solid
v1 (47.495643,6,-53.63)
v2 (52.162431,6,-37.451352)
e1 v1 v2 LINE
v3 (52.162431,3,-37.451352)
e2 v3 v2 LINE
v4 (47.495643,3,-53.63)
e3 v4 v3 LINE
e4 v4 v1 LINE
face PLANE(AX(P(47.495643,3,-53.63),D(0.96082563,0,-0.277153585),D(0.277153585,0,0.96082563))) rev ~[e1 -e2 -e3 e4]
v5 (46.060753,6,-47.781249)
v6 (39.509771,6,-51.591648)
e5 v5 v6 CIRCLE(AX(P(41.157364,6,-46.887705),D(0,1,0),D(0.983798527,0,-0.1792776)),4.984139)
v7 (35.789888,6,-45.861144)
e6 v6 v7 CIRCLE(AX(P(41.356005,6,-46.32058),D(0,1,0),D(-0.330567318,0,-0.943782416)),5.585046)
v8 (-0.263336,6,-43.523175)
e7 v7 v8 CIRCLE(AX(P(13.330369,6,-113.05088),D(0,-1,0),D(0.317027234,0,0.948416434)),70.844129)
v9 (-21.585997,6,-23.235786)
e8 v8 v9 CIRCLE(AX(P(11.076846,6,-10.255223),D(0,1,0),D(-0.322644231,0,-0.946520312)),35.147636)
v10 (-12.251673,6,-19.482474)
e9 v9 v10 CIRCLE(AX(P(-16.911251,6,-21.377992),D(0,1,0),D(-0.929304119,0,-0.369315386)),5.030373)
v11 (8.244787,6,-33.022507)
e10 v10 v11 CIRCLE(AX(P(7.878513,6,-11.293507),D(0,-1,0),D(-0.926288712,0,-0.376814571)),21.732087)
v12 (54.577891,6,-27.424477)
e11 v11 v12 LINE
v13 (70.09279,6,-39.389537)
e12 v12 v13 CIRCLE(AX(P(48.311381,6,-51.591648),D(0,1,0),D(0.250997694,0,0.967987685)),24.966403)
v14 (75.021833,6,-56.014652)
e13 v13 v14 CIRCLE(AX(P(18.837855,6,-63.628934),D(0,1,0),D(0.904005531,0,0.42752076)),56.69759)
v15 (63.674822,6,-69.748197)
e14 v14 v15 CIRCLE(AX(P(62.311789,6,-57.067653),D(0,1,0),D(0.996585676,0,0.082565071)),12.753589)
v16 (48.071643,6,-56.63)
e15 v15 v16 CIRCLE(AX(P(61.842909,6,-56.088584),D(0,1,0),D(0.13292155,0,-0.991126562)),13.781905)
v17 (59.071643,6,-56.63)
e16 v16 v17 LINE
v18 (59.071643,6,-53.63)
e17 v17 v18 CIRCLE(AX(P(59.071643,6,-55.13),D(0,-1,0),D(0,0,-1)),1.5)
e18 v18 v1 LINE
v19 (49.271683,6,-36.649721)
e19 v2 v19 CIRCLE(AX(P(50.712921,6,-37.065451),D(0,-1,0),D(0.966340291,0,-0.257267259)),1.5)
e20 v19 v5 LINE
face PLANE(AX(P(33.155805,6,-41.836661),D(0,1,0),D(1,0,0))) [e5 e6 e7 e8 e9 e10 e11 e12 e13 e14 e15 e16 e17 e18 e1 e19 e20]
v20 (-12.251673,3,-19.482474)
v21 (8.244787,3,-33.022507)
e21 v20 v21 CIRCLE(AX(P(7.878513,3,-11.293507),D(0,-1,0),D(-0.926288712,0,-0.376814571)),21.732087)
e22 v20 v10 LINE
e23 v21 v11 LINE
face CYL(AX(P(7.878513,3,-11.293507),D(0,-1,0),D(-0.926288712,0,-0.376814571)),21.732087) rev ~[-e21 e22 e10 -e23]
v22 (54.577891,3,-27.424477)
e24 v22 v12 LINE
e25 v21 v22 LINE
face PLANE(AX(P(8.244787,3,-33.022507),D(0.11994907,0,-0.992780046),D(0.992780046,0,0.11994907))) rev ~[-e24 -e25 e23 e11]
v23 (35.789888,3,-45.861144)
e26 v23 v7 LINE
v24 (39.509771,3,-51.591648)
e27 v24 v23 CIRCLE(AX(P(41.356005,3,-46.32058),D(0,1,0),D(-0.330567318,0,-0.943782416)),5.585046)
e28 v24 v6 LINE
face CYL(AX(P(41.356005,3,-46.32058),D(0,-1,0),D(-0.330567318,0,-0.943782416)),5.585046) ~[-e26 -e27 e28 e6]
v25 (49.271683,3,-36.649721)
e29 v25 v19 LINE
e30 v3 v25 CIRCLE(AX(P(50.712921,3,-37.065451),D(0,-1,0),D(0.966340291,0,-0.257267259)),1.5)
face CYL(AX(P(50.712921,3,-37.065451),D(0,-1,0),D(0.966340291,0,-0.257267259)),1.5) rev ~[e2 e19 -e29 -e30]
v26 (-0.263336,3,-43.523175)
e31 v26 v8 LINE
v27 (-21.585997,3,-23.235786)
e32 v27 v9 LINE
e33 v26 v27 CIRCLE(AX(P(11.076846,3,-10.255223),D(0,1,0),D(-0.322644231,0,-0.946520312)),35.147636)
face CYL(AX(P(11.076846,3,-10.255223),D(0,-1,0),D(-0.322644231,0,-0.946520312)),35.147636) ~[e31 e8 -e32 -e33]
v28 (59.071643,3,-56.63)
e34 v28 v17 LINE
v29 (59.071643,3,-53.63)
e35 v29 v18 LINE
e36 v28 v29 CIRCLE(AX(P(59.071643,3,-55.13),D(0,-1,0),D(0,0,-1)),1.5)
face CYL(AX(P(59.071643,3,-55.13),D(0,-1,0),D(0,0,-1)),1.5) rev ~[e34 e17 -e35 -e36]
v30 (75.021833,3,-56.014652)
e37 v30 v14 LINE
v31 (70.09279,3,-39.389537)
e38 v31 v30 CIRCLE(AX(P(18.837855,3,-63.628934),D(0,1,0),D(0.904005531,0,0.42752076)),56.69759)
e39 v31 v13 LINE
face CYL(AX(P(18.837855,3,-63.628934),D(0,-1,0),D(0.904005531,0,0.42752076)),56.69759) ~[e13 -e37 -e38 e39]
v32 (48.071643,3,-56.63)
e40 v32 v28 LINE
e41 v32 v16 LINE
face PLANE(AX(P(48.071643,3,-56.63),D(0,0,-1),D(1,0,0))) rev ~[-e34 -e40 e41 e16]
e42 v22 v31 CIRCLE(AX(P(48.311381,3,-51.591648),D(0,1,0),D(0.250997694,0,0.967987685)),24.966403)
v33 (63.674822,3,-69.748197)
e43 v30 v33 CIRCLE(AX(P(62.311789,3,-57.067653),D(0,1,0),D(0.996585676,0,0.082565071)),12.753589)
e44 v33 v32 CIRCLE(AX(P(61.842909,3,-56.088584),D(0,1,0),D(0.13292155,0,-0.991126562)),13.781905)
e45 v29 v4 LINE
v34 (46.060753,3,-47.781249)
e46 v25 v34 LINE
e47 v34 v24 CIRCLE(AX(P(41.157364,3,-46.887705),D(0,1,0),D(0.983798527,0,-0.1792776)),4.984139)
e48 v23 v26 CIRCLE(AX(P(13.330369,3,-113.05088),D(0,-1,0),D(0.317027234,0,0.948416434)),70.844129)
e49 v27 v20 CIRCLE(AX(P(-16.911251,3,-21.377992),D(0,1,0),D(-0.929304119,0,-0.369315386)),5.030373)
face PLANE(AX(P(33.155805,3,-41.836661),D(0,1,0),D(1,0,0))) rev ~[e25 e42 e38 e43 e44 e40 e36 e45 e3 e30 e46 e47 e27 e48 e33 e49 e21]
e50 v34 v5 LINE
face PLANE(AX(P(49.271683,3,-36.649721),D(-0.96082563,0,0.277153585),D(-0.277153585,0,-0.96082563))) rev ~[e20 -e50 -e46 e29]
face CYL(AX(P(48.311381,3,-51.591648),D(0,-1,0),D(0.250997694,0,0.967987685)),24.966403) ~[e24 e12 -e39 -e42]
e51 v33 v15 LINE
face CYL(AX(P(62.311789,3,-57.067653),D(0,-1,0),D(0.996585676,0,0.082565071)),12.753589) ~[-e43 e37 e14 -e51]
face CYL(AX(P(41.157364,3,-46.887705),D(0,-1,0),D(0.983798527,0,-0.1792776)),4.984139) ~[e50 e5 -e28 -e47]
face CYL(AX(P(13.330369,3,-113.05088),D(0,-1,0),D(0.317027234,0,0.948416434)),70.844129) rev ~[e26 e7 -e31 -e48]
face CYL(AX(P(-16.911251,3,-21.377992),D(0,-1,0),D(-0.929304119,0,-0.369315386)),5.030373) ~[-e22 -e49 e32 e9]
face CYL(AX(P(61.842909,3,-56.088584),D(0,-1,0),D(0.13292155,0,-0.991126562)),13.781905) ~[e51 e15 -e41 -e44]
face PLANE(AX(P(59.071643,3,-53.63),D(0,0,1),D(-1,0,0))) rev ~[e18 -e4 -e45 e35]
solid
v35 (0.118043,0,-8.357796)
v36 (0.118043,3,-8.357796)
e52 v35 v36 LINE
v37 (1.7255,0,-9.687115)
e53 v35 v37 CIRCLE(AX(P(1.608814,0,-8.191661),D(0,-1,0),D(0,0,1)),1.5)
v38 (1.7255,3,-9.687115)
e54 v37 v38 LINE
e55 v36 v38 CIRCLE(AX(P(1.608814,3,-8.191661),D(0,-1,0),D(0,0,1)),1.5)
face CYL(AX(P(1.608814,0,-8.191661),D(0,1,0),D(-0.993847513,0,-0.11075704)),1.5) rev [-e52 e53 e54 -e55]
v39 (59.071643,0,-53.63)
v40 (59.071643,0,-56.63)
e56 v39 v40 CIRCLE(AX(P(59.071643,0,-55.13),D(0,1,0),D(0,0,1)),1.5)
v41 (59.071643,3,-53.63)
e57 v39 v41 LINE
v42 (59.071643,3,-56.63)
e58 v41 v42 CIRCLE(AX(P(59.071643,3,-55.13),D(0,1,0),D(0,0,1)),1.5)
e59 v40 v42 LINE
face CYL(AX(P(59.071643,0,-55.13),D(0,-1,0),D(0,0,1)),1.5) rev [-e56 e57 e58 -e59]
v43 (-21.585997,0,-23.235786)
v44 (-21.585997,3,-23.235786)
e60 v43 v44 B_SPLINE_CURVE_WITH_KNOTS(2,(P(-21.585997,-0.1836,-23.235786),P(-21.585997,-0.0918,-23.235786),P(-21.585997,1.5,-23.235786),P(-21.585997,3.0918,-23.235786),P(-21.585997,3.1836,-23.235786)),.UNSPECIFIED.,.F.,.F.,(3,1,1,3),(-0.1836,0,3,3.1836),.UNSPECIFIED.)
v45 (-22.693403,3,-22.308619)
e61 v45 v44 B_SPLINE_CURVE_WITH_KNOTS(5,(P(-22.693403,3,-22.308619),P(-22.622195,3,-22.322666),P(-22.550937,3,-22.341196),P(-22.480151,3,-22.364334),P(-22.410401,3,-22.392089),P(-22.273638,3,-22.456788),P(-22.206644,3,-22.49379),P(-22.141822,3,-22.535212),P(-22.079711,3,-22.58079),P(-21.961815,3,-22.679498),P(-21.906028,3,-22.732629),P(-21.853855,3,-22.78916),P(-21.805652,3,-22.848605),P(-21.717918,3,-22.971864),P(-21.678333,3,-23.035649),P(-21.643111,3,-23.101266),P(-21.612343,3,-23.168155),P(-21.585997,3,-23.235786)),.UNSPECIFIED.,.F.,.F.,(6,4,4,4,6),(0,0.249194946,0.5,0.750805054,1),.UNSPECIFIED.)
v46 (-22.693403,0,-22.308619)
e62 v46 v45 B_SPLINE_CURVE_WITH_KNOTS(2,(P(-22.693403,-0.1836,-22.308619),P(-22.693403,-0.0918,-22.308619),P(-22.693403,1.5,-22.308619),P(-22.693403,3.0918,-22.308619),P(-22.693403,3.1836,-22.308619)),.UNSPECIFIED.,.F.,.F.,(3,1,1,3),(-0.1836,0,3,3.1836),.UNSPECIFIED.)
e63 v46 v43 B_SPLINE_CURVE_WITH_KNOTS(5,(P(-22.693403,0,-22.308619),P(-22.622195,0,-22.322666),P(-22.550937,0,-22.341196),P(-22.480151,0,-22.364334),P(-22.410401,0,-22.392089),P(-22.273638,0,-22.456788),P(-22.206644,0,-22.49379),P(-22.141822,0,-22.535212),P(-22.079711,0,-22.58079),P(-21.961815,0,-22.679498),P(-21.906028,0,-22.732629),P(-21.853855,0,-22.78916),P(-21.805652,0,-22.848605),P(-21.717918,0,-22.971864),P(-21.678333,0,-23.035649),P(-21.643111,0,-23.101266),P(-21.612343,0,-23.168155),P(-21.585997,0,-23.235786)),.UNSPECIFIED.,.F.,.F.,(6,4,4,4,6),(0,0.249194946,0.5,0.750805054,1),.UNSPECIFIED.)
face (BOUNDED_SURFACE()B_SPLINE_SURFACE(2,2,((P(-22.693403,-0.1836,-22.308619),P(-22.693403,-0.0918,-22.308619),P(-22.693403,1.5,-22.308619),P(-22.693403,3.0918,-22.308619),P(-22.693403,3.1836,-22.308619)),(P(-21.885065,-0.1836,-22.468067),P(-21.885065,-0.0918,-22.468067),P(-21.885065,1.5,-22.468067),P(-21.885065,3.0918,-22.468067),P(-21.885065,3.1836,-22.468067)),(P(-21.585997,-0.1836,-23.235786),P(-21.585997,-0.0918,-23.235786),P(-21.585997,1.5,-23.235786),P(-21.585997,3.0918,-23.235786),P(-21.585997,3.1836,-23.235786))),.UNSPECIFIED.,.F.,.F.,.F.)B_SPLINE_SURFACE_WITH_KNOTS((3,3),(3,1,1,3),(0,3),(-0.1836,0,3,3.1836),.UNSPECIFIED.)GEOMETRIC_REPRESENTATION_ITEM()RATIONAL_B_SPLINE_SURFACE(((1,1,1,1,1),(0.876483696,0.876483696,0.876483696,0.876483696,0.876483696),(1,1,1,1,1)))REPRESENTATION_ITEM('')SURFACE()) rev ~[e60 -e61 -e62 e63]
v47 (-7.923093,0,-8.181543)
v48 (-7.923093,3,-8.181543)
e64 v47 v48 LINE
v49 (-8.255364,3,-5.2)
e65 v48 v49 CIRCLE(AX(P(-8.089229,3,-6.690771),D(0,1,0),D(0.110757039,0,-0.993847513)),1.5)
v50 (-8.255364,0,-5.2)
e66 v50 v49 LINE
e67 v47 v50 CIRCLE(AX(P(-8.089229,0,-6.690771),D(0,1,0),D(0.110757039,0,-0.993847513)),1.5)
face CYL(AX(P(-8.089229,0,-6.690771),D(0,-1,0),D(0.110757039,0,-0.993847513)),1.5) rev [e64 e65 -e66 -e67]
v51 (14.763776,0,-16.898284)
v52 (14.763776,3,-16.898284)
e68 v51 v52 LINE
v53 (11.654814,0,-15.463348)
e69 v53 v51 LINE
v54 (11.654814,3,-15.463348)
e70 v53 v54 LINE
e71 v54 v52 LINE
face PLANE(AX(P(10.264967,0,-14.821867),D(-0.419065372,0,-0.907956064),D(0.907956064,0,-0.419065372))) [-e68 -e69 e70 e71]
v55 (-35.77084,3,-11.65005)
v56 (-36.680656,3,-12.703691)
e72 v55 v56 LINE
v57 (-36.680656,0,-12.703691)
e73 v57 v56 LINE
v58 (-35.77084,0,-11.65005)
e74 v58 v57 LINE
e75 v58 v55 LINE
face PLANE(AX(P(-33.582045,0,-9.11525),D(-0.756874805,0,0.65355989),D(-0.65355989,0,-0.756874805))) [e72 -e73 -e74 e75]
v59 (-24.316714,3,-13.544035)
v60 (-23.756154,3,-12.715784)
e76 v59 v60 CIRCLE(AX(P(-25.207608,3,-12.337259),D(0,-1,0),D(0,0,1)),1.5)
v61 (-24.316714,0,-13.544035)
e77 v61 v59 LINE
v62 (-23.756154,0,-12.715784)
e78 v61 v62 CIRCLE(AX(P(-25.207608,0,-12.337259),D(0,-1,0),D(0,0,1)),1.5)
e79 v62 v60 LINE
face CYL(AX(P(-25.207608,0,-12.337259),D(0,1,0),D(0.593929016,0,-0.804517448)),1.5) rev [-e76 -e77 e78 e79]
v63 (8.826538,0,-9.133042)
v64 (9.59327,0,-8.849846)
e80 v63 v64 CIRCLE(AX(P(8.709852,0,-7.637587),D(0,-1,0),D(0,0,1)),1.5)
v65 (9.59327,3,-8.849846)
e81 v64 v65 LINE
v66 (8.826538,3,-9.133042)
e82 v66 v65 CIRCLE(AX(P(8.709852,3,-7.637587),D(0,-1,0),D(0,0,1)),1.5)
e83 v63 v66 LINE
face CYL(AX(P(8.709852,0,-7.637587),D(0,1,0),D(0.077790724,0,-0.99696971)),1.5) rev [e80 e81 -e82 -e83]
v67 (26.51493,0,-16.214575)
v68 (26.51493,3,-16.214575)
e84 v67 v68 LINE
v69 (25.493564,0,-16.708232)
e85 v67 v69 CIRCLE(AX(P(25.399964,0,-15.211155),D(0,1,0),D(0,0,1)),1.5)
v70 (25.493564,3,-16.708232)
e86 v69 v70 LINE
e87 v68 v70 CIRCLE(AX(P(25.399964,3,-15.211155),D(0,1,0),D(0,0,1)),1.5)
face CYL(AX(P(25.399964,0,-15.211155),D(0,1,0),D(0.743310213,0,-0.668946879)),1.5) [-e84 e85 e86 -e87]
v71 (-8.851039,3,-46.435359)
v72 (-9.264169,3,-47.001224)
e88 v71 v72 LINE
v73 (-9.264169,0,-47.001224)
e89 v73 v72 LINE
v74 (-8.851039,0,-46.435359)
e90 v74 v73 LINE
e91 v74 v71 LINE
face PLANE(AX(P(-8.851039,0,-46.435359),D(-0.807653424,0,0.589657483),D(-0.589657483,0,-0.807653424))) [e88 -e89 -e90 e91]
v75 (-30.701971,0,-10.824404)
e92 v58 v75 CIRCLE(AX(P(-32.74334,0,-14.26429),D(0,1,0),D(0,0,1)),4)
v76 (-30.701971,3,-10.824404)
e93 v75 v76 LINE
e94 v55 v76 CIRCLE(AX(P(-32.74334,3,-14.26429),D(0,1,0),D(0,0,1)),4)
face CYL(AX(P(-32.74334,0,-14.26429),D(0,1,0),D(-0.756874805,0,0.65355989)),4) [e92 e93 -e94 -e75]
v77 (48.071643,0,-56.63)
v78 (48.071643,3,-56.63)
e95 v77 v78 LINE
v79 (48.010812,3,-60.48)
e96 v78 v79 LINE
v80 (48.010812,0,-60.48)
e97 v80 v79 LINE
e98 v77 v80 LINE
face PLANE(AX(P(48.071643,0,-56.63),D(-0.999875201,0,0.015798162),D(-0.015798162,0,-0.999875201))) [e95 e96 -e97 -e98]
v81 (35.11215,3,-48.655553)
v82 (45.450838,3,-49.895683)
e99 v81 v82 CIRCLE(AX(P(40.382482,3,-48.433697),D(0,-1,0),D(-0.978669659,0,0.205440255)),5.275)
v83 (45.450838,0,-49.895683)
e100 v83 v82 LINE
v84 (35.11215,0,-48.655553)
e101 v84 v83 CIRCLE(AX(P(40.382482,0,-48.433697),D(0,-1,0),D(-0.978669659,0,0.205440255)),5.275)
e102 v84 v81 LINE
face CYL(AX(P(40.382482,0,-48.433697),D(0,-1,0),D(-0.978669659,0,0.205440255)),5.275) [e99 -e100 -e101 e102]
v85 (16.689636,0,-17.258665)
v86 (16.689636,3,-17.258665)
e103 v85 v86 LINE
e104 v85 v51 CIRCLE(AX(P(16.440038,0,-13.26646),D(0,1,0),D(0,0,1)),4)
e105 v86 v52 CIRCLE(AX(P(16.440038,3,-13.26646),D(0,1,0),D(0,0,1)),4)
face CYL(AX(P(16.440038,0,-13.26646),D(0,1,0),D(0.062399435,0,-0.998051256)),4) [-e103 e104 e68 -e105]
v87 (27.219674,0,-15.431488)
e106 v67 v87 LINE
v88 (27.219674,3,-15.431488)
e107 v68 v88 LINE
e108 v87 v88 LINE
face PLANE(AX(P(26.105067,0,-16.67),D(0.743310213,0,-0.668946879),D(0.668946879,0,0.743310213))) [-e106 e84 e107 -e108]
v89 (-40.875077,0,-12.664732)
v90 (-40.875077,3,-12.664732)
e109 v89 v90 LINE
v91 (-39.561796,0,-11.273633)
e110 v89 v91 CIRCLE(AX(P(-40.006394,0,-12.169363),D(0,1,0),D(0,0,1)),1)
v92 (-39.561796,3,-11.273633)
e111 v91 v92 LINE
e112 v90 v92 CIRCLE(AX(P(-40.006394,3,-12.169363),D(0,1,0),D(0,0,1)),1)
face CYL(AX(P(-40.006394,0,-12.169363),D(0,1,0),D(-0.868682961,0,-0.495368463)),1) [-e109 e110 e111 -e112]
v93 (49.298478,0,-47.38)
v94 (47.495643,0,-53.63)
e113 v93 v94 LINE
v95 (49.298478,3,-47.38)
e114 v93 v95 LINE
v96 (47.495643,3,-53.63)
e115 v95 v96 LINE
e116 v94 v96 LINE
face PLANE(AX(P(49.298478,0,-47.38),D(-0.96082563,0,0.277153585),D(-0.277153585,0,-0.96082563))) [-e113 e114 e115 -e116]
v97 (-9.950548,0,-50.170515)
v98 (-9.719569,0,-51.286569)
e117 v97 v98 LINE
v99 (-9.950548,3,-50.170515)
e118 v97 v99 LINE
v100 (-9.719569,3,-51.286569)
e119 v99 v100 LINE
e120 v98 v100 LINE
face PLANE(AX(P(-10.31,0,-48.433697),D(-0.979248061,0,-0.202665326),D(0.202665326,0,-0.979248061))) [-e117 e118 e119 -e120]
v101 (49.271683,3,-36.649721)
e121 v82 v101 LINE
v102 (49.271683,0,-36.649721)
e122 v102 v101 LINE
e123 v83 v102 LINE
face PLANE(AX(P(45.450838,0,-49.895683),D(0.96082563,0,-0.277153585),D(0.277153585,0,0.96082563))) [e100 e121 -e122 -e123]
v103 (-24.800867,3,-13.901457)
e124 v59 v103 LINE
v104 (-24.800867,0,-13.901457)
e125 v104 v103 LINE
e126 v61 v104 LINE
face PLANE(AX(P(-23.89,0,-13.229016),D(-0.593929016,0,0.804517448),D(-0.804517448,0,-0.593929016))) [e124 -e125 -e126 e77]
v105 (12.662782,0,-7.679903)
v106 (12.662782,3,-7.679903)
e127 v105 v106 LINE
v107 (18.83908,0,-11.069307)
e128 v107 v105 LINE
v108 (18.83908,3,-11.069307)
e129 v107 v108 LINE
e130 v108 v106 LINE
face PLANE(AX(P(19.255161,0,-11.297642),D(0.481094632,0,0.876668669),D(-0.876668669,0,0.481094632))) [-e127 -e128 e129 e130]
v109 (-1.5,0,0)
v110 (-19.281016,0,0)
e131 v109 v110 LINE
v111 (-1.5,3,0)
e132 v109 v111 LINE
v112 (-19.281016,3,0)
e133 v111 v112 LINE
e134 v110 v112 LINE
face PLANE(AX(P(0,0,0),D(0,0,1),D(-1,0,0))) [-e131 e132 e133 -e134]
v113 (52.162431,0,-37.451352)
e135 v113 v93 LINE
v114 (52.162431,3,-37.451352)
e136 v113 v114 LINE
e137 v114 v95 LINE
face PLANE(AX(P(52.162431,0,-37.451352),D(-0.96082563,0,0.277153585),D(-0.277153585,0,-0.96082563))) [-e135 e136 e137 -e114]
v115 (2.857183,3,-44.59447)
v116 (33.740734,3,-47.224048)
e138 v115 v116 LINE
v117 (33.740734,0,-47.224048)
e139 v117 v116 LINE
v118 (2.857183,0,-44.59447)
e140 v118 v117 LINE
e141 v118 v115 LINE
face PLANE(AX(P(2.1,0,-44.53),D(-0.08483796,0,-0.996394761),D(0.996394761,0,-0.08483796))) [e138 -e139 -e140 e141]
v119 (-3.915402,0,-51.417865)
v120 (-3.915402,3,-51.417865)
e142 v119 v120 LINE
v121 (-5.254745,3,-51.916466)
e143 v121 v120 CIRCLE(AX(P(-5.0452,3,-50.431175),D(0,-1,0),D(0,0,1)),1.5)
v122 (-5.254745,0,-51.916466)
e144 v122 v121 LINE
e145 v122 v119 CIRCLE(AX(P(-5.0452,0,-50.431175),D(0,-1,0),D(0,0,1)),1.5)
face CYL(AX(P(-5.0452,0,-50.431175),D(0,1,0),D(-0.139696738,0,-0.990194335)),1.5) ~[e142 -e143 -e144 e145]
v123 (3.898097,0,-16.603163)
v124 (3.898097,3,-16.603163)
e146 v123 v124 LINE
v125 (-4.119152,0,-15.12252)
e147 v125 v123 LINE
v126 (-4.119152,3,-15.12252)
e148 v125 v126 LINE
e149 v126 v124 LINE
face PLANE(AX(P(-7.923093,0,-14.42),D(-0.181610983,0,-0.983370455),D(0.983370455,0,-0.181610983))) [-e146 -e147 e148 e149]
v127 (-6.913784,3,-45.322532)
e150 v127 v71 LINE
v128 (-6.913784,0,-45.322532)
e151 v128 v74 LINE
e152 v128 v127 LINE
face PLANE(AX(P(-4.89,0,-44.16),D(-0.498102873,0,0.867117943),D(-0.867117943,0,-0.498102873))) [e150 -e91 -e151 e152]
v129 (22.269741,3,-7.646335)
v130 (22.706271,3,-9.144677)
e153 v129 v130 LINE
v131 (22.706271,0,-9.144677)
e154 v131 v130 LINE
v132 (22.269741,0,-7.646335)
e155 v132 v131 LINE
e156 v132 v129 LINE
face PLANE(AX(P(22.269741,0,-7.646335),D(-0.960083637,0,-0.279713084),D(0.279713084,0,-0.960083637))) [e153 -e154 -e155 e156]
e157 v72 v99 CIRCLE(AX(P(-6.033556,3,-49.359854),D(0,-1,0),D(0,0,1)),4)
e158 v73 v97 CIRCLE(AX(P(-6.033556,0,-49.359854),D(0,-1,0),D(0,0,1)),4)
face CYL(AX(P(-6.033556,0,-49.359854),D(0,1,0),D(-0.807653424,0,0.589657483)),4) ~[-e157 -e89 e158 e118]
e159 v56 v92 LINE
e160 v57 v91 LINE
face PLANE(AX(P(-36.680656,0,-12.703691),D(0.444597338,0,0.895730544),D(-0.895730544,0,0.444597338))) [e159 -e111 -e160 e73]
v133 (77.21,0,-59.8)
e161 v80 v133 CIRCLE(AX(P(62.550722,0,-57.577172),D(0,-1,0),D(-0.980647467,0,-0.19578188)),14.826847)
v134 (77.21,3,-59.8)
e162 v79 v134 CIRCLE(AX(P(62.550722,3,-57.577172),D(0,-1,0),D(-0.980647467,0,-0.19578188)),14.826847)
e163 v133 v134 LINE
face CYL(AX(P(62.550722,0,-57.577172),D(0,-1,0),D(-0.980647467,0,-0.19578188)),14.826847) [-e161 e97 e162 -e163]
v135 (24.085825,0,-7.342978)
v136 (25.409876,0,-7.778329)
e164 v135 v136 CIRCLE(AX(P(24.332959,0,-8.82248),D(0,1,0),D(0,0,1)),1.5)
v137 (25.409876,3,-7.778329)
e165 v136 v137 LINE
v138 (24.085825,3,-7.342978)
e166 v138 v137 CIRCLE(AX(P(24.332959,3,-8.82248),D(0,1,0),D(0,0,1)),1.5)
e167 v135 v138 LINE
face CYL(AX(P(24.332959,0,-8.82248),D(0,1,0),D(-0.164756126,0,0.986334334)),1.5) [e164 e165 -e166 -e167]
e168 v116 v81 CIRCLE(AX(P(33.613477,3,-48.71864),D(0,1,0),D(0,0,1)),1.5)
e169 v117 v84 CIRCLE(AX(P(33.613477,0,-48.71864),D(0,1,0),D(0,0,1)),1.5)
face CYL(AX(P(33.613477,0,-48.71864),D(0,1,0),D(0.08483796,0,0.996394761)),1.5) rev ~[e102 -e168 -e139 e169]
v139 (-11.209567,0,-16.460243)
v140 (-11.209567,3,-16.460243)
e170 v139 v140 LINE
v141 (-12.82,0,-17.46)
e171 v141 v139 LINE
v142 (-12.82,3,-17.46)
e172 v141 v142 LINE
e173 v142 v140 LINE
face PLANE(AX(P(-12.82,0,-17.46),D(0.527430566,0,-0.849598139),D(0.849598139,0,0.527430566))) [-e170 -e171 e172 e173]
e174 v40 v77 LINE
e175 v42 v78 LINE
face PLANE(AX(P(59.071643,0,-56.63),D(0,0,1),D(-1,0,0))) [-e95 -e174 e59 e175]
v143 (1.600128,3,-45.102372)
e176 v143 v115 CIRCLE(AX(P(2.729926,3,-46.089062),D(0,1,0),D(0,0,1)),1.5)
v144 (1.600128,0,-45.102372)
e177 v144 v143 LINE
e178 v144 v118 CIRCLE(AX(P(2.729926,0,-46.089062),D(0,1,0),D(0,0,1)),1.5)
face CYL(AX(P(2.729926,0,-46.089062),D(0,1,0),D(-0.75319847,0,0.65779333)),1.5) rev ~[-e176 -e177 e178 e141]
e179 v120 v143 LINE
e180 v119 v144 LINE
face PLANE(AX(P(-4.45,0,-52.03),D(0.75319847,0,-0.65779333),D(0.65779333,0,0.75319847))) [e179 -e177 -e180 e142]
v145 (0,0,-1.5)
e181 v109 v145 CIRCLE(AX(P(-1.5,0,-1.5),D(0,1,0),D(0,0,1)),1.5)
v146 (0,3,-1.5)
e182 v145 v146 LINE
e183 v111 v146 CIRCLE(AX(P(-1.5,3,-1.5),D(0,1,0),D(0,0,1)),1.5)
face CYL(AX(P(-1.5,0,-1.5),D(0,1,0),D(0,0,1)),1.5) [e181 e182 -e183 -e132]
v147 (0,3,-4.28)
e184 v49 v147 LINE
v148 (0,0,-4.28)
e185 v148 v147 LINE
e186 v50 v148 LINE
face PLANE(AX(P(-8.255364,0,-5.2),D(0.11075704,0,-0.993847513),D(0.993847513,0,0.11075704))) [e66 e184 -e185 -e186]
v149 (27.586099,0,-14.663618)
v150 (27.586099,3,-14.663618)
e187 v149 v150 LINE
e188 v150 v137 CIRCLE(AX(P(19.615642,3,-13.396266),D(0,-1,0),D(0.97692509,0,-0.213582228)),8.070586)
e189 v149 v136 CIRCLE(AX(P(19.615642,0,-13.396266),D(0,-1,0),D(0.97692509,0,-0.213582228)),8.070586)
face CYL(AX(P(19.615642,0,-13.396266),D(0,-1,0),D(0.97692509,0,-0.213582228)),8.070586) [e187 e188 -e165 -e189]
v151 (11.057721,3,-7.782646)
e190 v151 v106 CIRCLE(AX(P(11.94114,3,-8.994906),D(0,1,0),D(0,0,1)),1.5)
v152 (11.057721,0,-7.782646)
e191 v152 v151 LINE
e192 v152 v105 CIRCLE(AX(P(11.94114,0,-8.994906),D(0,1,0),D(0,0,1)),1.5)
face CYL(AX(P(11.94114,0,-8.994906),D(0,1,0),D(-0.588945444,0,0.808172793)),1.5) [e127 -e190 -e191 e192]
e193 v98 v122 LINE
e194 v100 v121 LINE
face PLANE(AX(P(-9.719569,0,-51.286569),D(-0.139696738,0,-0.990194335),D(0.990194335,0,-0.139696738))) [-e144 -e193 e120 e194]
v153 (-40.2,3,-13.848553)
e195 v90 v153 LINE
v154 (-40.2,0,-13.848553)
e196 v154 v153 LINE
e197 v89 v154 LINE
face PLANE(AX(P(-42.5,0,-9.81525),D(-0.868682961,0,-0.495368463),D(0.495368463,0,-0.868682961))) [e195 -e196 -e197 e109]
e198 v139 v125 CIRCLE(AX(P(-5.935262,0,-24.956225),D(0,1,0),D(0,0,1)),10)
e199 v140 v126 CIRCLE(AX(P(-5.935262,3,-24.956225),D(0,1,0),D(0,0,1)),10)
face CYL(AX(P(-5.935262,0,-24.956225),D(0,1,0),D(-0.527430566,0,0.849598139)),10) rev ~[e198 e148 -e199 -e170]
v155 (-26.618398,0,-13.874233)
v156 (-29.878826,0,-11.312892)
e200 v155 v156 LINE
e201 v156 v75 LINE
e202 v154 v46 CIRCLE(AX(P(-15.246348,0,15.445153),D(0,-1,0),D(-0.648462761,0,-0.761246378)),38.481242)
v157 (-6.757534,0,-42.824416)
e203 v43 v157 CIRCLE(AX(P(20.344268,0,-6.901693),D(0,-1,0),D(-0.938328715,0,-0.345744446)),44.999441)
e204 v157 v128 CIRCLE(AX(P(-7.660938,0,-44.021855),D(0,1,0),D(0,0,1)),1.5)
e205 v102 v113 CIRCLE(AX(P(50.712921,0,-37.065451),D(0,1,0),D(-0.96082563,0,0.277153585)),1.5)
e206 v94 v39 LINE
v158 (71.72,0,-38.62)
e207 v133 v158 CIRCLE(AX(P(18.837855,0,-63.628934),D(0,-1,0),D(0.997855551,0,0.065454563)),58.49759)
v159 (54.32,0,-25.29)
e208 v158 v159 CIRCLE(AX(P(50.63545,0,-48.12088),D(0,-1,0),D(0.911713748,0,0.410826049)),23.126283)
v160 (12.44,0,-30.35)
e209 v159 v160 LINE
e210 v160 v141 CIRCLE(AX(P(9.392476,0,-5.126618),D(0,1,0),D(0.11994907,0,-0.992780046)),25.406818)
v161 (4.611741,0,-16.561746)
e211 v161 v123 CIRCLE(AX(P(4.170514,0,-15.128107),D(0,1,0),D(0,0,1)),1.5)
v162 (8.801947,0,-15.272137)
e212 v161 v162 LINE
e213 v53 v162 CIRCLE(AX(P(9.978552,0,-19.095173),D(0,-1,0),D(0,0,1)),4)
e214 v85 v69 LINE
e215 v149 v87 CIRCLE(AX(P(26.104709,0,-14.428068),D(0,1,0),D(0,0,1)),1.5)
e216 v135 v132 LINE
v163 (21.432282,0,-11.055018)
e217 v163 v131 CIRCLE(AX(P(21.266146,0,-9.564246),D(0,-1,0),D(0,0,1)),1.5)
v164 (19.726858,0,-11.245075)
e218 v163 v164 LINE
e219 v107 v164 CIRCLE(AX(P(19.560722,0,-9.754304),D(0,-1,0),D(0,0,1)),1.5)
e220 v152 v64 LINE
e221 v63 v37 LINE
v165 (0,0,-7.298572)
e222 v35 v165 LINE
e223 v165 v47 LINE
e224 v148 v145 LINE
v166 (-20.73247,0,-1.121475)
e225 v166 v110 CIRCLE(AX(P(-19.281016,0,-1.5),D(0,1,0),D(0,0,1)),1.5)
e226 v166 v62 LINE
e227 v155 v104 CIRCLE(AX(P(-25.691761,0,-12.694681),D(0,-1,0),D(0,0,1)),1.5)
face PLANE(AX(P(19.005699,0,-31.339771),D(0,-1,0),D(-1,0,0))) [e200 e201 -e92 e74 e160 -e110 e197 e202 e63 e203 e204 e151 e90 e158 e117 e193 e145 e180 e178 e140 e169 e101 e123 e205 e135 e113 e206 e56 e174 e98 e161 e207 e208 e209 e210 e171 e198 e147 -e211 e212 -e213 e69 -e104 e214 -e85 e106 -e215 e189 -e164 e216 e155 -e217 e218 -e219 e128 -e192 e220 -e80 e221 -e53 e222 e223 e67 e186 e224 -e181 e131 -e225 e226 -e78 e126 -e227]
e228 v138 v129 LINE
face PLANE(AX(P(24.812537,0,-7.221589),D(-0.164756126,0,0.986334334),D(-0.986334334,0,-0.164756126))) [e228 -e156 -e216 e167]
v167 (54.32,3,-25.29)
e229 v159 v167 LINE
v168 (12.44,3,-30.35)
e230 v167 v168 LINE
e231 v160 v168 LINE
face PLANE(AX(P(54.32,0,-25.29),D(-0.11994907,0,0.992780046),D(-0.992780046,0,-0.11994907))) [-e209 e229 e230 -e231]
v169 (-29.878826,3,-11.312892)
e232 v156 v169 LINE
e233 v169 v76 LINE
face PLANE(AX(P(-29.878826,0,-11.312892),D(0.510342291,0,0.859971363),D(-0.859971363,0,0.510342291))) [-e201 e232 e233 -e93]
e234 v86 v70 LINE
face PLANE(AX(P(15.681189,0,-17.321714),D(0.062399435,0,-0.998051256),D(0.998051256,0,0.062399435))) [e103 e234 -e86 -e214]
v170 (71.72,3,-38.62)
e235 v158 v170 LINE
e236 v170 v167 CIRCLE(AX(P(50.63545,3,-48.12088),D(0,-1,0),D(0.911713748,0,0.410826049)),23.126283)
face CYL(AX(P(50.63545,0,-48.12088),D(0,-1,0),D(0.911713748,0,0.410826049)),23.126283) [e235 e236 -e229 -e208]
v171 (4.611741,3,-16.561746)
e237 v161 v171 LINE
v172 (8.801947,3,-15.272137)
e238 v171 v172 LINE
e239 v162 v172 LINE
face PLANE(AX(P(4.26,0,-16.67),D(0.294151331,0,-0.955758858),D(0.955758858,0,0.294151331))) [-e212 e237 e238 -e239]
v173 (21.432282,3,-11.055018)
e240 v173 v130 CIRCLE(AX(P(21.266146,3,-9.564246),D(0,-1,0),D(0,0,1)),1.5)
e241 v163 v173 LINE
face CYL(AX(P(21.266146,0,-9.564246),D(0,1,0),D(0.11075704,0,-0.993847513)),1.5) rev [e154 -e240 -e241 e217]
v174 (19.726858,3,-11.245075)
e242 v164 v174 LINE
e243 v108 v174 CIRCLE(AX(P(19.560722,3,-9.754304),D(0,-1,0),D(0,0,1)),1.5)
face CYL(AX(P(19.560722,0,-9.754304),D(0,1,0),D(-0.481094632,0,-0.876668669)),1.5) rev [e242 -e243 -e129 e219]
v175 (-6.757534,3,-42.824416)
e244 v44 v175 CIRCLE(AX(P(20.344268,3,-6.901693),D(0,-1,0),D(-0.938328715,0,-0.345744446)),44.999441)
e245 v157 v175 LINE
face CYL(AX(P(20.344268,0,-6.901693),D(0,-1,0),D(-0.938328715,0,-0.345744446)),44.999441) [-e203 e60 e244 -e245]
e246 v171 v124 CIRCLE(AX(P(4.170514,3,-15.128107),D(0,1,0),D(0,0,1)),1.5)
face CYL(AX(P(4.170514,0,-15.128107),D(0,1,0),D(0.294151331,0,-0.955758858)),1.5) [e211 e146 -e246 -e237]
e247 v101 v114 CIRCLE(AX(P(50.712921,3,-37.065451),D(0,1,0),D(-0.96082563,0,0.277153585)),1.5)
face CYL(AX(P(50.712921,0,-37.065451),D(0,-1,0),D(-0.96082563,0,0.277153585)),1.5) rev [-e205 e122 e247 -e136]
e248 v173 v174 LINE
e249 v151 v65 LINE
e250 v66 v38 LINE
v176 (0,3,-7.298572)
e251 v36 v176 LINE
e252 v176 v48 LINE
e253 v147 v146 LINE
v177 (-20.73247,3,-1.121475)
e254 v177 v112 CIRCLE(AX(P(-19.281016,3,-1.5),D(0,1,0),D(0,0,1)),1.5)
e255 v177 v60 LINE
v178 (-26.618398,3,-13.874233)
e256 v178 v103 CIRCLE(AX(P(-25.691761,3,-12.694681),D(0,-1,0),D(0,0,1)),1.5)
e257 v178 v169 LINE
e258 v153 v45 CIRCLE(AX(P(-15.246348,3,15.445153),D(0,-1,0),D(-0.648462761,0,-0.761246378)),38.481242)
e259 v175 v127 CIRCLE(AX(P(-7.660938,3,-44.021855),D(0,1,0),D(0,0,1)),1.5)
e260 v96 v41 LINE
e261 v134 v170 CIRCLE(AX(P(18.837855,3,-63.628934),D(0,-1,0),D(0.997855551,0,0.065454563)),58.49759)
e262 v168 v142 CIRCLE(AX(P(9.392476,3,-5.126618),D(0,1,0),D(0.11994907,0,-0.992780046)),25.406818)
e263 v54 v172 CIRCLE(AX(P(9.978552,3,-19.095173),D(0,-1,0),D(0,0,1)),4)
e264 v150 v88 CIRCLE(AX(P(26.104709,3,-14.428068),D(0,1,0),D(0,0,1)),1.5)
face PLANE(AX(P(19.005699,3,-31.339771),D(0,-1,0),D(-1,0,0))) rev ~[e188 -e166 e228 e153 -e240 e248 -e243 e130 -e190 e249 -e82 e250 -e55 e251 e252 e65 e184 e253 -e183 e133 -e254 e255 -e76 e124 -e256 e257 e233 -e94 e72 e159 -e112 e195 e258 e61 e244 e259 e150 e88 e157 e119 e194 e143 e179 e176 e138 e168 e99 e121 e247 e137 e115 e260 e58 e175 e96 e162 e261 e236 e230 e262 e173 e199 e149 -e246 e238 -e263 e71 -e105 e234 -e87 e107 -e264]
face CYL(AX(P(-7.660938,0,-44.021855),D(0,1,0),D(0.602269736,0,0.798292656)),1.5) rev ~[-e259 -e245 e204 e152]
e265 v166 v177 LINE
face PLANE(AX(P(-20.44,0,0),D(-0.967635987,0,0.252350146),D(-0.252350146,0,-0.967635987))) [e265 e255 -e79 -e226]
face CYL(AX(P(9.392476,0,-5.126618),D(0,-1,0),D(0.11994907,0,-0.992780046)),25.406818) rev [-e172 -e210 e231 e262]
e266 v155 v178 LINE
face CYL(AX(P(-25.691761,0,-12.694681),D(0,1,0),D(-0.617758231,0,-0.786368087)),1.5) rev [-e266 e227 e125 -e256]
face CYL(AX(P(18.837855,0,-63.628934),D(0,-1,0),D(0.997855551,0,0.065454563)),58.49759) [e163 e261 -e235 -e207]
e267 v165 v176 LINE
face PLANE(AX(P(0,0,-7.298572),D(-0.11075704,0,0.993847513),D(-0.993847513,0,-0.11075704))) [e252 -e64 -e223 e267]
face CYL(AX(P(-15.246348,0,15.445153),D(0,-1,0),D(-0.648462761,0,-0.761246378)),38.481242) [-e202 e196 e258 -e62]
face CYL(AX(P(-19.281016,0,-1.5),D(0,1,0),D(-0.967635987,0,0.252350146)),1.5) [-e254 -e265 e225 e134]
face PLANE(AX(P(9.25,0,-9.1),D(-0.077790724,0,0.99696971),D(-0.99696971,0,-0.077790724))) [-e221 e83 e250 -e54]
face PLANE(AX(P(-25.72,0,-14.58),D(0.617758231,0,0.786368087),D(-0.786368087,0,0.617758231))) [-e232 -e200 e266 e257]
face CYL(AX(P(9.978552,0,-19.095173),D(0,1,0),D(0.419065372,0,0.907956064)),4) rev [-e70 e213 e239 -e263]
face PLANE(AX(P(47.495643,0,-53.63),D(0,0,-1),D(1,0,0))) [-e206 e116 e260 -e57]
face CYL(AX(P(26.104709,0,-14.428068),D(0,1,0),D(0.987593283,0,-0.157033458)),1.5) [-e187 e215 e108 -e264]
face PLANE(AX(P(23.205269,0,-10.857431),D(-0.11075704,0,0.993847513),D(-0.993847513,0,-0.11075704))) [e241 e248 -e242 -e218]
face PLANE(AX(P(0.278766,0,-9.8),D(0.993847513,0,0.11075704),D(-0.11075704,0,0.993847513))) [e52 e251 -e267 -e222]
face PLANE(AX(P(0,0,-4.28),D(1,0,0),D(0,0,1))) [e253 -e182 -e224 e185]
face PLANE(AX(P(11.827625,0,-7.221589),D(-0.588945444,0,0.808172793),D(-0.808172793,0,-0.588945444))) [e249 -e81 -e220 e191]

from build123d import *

# Parameters (mm, degrees)
BOSS_EXTRUDE1_DEPTH = 3
FILLET1_R           = 10
FILLET2_R           = 1
FILLET3_R           = 1.5
FILLET4_R           = 4
FILLET5_R           = 4
BOSS_EXTRUDE2_DEPTH = 3


with BuildPart() as part:
    # Sketch2 → Boss-Extrude1 (new body)
    with BuildSketch(Plane(origin=(0, 0, 0), x_dir=(1, 0, 0), z_dir=(0, 1, 0))):
        with BuildLine():
            Line((-42.5, 9.815250458), (-40.2, 13.848552856))
            ThreePointArc((-40.2, 13.848552856), (-31.616402931, 19.380516515), (-21.88, 22.46))
            ThreePointArc((-21.88, 22.46), (-15.087159026, 34.642704233), (-4.89, 44.16))
            Line((-4.89, 44.16), (-8.851038754, 46.435359195))
            Line((-8.851038754, 46.435359195), (-10.31, 48.433697347))
            Line((-10.31, 48.433697347), (-9.719569356, 51.28656851))
            Line((-9.719569356, 51.28656851), (-4.45, 52.03))
            Line((-4.45, 52.03), (2.1, 44.53))
            Line((2.1, 44.53), (35.22, 47.35))
            ThreePointArc((35.22, 47.35), (39.1087714, 53.552611798), (45.450837647, 49.895682508))
            Line((45.450837647, 49.895682508), (49.271682555, 36.649721013))
            ThreePointArc((49.271682555, 36.649721013), (51.113757972, 35.62), (52.162431436, 37.451352279))
            Line((52.162431436, 37.451352279), (49.298477535, 47.38))
            Line((49.298477535, 47.38), (47.49564271, 53.63))
            Line((47.49564271, 53.63), (59.07164271, 53.63))
            ThreePointArc((59.07164271, 53.63), (60.57164271, 55.13), (59.07164271, 56.63))
            Line((59.07164271, 56.63), (48.07164271, 56.63))
            Line((48.07164271, 56.63), (48.010812194, 60.48))
            ThreePointArc((48.010812194, 60.48), (62.895920888, 72.4), (77.21, 59.8))
            ThreePointArc((77.21, 59.8), (75.464062366, 48.951036242), (71.72, 38.62))
            ThreePointArc((71.72, 38.62), (64.699564013, 29.762620869), (54.32, 25.29))
            Line((54.32, 25.29), (12.44, 30.35))
            ThreePointArc((12.44, 30.35), (-2.155765073, 27.757228529), (-12.82, 17.46))
            Line((-12.82, 17.46), (-7.923093172, 14.42))
            Line((-7.923093172, 14.42), (4.26, 16.67))
            Line((4.26, 16.67), (10.264967392, 14.82186735))
            Line((10.264967392, 14.82186735), (15.68118928, 17.321714129))
            Line((15.68118928, 17.321714129), (26.105067381, 16.67))
            Line((26.105067381, 16.67), (27.5, 15.12))
            ThreePointArc((27.5, 15.12), (27.256062178, 10.796585791), (24.812537217, 7.22158903))
            Line((24.812537217, 7.22158903), (22.269740859, 7.646334739))
            Line((22.269740859, 7.646334739), (23.205269456, 10.857431213))
            Line((23.205269456, 10.857431213), (19.255161489, 11.297641869))
            Line((19.255161489, 11.297641869), (11.827625236, 7.22158903))
            Line((11.827625236, 7.22158903), (9.25, 9.1))
            Line((9.25, 9.1), (0.278765895, 9.8))
            Line((0.278765895, 9.8), (0, 7.298571725))
            Line((0, 7.298571725), (-7.923093172, 8.181542538))
            ThreePointArc((-7.923093172, 8.181542538), (-9.58, 6.856906829), (-8.255364291, 5.2))
            Line((-8.255364291, 5.2), (0, 4.28))
            Line((0, 4.28), (0, 0))
            Line((0, 0), (-20.44, 0))
            Line((-20.44, 0), (-23.89, 13.229016126))
            Line((-23.89, 13.229016126), (-25.72, 14.58))
            Line((-25.72, 14.58), (-29.87882635, 11.312892327))
            Line((-29.87882635, 11.312892327), (-33.582044966, 9.115250458))
            Line((-33.582044966, 9.115250458), (-36.680656461, 12.703691255))
            Line((-36.680656461, 12.703691255), (-42.5, 9.815250458))
        make_face()
    extrude(amount=BOSS_EXTRUDE1_DEPTH)

    # Fillet1
    fillet1_edges = [part.edges().sort_by_distance(p)[0] for p in [
        (-7.923093172, 1.5, -14.42),
    ]]
    fillet(fillet1_edges, radius=FILLET1_R)

    # Fillet2
    fillet2_edges = [part.edges().sort_by_distance(p)[0] for p in [
        (-42.5, 1.5, -9.815250458),
    ]]
    fillet(fillet2_edges, radius=FILLET2_R)

    # Fillet3
    fillet3_edges = [part.edges().sort_by_distance(p)[0] for p in [
        (4.26, 1.5, -16.67),
        (26.105067381, 1.5, -16.67),
        (27.5, 1.5, -15.12),
        (24.812537217, 1.5, -7.22158903),
        (23.205269456, 1.5, -10.857431213),
        (19.255161489, 1.5, -11.297641869),
        (11.827625236, 1.5, -7.22158903),
        (9.25, 1.5, -9.1),
        (0.278765895, 1.5, -9.8),
        (0, 1.5, 0),
        (-20.44, 1.5, 0),
        (-23.89, 1.5, -13.229016126),
        (-25.72, 1.5, -14.58),
        (-21.88, 1.5, -22.46),
        (-4.89, 1.5, -44.16),
        (-4.45, 1.5, -52.03),
        (2.1, 1.5, -44.53),
        (35.22, 1.5, -47.35),
    ]]
    fillet(fillet3_edges, radius=FILLET3_R)

    # Fillet4
    fillet4_edges = [part.edges().sort_by_distance(p)[0] for p in [
        (-33.582044966, 1.5, -9.115250458),
        (-10.31, 1.5, -48.433697347),
    ]]
    fillet(fillet4_edges, radius=FILLET4_R)

    # Fillet5
    fillet5_edges = [part.edges().sort_by_distance(p)[0] for p in [
        (10.264967392, 1.5, -14.82186735),
        (15.68118928, 1.5, -17.321714129),
    ]]
    fillet(fillet5_edges, radius=FILLET5_R)


with BuildPart() as body_2:
    # Sketch3 → Boss-Extrude2 (new body)
    with BuildSketch(Plane(origin=(0, 3, 0), x_dir=(1, 0, 0), z_dir=(0, 1, 0))):
        with BuildLine():
            Line((47.49564271, 53.63), (52.162431436, 37.451352279))
            ThreePointArc((52.162431436, 37.451352279), (51.113757972, 35.62), (49.271682555, 36.649721013))
            Line((49.271682555, 36.649721013), (46.060753469, 47.781249263))
            ThreePointArc((46.060753469, 47.781249263), (43.663324393, 51.196046687), (39.509770815, 51.591647872))
            ThreePointArc((39.509770815, 51.591647872), (36.671412252, 49.361522696), (35.789887525, 45.861143889))
            ThreePointArc((35.789887525, 45.861143889), (17.914819637, 42.355240721), (-0.263335901, 43.523174907))
            ThreePointArc((-0.263335901, 43.523174907), (-13.150433821, 35.718829472), (-21.585997074, 23.235786051))
            ThreePointArc((-21.585997074, 23.235786051), (-18.787922166, 16.710792033), (-12.251673396, 19.482474221))
            ThreePointArc((-12.251673396, 19.482474221), (-4.100058768, 29.426278917), (8.244786893, 33.022507287))
            Line((8.244786893, 33.022507287), (54.5778905, 27.4244771))
            ThreePointArc((54.5778905, 27.4244771), (63.558088847, 31.821488993), (70.092790044, 39.389537367))
            ThreePointArc((70.092790044, 39.389537367), (73.196650491, 47.512542622), (75.021833478, 56.014652425))
            ThreePointArc((75.021833478, 56.014652425), (72.143647203, 65.190990417), (63.674821624, 69.748196631))
            ThreePointArc((63.674821624, 69.748196631), (52.973928794, 66.637617234), (48.07164271, 56.63))
            Line((48.07164271, 56.63), (59.07164271, 56.63))
            ThreePointArc((59.07164271, 56.63), (60.57164271, 55.13), (59.07164271, 53.63))
            Line((59.07164271, 53.63), (47.49564271, 53.63))
        make_face()
    extrude(amount=BOSS_EXTRUDE2_DEPTH)


solid = Compound([part.part, body_2.part])
